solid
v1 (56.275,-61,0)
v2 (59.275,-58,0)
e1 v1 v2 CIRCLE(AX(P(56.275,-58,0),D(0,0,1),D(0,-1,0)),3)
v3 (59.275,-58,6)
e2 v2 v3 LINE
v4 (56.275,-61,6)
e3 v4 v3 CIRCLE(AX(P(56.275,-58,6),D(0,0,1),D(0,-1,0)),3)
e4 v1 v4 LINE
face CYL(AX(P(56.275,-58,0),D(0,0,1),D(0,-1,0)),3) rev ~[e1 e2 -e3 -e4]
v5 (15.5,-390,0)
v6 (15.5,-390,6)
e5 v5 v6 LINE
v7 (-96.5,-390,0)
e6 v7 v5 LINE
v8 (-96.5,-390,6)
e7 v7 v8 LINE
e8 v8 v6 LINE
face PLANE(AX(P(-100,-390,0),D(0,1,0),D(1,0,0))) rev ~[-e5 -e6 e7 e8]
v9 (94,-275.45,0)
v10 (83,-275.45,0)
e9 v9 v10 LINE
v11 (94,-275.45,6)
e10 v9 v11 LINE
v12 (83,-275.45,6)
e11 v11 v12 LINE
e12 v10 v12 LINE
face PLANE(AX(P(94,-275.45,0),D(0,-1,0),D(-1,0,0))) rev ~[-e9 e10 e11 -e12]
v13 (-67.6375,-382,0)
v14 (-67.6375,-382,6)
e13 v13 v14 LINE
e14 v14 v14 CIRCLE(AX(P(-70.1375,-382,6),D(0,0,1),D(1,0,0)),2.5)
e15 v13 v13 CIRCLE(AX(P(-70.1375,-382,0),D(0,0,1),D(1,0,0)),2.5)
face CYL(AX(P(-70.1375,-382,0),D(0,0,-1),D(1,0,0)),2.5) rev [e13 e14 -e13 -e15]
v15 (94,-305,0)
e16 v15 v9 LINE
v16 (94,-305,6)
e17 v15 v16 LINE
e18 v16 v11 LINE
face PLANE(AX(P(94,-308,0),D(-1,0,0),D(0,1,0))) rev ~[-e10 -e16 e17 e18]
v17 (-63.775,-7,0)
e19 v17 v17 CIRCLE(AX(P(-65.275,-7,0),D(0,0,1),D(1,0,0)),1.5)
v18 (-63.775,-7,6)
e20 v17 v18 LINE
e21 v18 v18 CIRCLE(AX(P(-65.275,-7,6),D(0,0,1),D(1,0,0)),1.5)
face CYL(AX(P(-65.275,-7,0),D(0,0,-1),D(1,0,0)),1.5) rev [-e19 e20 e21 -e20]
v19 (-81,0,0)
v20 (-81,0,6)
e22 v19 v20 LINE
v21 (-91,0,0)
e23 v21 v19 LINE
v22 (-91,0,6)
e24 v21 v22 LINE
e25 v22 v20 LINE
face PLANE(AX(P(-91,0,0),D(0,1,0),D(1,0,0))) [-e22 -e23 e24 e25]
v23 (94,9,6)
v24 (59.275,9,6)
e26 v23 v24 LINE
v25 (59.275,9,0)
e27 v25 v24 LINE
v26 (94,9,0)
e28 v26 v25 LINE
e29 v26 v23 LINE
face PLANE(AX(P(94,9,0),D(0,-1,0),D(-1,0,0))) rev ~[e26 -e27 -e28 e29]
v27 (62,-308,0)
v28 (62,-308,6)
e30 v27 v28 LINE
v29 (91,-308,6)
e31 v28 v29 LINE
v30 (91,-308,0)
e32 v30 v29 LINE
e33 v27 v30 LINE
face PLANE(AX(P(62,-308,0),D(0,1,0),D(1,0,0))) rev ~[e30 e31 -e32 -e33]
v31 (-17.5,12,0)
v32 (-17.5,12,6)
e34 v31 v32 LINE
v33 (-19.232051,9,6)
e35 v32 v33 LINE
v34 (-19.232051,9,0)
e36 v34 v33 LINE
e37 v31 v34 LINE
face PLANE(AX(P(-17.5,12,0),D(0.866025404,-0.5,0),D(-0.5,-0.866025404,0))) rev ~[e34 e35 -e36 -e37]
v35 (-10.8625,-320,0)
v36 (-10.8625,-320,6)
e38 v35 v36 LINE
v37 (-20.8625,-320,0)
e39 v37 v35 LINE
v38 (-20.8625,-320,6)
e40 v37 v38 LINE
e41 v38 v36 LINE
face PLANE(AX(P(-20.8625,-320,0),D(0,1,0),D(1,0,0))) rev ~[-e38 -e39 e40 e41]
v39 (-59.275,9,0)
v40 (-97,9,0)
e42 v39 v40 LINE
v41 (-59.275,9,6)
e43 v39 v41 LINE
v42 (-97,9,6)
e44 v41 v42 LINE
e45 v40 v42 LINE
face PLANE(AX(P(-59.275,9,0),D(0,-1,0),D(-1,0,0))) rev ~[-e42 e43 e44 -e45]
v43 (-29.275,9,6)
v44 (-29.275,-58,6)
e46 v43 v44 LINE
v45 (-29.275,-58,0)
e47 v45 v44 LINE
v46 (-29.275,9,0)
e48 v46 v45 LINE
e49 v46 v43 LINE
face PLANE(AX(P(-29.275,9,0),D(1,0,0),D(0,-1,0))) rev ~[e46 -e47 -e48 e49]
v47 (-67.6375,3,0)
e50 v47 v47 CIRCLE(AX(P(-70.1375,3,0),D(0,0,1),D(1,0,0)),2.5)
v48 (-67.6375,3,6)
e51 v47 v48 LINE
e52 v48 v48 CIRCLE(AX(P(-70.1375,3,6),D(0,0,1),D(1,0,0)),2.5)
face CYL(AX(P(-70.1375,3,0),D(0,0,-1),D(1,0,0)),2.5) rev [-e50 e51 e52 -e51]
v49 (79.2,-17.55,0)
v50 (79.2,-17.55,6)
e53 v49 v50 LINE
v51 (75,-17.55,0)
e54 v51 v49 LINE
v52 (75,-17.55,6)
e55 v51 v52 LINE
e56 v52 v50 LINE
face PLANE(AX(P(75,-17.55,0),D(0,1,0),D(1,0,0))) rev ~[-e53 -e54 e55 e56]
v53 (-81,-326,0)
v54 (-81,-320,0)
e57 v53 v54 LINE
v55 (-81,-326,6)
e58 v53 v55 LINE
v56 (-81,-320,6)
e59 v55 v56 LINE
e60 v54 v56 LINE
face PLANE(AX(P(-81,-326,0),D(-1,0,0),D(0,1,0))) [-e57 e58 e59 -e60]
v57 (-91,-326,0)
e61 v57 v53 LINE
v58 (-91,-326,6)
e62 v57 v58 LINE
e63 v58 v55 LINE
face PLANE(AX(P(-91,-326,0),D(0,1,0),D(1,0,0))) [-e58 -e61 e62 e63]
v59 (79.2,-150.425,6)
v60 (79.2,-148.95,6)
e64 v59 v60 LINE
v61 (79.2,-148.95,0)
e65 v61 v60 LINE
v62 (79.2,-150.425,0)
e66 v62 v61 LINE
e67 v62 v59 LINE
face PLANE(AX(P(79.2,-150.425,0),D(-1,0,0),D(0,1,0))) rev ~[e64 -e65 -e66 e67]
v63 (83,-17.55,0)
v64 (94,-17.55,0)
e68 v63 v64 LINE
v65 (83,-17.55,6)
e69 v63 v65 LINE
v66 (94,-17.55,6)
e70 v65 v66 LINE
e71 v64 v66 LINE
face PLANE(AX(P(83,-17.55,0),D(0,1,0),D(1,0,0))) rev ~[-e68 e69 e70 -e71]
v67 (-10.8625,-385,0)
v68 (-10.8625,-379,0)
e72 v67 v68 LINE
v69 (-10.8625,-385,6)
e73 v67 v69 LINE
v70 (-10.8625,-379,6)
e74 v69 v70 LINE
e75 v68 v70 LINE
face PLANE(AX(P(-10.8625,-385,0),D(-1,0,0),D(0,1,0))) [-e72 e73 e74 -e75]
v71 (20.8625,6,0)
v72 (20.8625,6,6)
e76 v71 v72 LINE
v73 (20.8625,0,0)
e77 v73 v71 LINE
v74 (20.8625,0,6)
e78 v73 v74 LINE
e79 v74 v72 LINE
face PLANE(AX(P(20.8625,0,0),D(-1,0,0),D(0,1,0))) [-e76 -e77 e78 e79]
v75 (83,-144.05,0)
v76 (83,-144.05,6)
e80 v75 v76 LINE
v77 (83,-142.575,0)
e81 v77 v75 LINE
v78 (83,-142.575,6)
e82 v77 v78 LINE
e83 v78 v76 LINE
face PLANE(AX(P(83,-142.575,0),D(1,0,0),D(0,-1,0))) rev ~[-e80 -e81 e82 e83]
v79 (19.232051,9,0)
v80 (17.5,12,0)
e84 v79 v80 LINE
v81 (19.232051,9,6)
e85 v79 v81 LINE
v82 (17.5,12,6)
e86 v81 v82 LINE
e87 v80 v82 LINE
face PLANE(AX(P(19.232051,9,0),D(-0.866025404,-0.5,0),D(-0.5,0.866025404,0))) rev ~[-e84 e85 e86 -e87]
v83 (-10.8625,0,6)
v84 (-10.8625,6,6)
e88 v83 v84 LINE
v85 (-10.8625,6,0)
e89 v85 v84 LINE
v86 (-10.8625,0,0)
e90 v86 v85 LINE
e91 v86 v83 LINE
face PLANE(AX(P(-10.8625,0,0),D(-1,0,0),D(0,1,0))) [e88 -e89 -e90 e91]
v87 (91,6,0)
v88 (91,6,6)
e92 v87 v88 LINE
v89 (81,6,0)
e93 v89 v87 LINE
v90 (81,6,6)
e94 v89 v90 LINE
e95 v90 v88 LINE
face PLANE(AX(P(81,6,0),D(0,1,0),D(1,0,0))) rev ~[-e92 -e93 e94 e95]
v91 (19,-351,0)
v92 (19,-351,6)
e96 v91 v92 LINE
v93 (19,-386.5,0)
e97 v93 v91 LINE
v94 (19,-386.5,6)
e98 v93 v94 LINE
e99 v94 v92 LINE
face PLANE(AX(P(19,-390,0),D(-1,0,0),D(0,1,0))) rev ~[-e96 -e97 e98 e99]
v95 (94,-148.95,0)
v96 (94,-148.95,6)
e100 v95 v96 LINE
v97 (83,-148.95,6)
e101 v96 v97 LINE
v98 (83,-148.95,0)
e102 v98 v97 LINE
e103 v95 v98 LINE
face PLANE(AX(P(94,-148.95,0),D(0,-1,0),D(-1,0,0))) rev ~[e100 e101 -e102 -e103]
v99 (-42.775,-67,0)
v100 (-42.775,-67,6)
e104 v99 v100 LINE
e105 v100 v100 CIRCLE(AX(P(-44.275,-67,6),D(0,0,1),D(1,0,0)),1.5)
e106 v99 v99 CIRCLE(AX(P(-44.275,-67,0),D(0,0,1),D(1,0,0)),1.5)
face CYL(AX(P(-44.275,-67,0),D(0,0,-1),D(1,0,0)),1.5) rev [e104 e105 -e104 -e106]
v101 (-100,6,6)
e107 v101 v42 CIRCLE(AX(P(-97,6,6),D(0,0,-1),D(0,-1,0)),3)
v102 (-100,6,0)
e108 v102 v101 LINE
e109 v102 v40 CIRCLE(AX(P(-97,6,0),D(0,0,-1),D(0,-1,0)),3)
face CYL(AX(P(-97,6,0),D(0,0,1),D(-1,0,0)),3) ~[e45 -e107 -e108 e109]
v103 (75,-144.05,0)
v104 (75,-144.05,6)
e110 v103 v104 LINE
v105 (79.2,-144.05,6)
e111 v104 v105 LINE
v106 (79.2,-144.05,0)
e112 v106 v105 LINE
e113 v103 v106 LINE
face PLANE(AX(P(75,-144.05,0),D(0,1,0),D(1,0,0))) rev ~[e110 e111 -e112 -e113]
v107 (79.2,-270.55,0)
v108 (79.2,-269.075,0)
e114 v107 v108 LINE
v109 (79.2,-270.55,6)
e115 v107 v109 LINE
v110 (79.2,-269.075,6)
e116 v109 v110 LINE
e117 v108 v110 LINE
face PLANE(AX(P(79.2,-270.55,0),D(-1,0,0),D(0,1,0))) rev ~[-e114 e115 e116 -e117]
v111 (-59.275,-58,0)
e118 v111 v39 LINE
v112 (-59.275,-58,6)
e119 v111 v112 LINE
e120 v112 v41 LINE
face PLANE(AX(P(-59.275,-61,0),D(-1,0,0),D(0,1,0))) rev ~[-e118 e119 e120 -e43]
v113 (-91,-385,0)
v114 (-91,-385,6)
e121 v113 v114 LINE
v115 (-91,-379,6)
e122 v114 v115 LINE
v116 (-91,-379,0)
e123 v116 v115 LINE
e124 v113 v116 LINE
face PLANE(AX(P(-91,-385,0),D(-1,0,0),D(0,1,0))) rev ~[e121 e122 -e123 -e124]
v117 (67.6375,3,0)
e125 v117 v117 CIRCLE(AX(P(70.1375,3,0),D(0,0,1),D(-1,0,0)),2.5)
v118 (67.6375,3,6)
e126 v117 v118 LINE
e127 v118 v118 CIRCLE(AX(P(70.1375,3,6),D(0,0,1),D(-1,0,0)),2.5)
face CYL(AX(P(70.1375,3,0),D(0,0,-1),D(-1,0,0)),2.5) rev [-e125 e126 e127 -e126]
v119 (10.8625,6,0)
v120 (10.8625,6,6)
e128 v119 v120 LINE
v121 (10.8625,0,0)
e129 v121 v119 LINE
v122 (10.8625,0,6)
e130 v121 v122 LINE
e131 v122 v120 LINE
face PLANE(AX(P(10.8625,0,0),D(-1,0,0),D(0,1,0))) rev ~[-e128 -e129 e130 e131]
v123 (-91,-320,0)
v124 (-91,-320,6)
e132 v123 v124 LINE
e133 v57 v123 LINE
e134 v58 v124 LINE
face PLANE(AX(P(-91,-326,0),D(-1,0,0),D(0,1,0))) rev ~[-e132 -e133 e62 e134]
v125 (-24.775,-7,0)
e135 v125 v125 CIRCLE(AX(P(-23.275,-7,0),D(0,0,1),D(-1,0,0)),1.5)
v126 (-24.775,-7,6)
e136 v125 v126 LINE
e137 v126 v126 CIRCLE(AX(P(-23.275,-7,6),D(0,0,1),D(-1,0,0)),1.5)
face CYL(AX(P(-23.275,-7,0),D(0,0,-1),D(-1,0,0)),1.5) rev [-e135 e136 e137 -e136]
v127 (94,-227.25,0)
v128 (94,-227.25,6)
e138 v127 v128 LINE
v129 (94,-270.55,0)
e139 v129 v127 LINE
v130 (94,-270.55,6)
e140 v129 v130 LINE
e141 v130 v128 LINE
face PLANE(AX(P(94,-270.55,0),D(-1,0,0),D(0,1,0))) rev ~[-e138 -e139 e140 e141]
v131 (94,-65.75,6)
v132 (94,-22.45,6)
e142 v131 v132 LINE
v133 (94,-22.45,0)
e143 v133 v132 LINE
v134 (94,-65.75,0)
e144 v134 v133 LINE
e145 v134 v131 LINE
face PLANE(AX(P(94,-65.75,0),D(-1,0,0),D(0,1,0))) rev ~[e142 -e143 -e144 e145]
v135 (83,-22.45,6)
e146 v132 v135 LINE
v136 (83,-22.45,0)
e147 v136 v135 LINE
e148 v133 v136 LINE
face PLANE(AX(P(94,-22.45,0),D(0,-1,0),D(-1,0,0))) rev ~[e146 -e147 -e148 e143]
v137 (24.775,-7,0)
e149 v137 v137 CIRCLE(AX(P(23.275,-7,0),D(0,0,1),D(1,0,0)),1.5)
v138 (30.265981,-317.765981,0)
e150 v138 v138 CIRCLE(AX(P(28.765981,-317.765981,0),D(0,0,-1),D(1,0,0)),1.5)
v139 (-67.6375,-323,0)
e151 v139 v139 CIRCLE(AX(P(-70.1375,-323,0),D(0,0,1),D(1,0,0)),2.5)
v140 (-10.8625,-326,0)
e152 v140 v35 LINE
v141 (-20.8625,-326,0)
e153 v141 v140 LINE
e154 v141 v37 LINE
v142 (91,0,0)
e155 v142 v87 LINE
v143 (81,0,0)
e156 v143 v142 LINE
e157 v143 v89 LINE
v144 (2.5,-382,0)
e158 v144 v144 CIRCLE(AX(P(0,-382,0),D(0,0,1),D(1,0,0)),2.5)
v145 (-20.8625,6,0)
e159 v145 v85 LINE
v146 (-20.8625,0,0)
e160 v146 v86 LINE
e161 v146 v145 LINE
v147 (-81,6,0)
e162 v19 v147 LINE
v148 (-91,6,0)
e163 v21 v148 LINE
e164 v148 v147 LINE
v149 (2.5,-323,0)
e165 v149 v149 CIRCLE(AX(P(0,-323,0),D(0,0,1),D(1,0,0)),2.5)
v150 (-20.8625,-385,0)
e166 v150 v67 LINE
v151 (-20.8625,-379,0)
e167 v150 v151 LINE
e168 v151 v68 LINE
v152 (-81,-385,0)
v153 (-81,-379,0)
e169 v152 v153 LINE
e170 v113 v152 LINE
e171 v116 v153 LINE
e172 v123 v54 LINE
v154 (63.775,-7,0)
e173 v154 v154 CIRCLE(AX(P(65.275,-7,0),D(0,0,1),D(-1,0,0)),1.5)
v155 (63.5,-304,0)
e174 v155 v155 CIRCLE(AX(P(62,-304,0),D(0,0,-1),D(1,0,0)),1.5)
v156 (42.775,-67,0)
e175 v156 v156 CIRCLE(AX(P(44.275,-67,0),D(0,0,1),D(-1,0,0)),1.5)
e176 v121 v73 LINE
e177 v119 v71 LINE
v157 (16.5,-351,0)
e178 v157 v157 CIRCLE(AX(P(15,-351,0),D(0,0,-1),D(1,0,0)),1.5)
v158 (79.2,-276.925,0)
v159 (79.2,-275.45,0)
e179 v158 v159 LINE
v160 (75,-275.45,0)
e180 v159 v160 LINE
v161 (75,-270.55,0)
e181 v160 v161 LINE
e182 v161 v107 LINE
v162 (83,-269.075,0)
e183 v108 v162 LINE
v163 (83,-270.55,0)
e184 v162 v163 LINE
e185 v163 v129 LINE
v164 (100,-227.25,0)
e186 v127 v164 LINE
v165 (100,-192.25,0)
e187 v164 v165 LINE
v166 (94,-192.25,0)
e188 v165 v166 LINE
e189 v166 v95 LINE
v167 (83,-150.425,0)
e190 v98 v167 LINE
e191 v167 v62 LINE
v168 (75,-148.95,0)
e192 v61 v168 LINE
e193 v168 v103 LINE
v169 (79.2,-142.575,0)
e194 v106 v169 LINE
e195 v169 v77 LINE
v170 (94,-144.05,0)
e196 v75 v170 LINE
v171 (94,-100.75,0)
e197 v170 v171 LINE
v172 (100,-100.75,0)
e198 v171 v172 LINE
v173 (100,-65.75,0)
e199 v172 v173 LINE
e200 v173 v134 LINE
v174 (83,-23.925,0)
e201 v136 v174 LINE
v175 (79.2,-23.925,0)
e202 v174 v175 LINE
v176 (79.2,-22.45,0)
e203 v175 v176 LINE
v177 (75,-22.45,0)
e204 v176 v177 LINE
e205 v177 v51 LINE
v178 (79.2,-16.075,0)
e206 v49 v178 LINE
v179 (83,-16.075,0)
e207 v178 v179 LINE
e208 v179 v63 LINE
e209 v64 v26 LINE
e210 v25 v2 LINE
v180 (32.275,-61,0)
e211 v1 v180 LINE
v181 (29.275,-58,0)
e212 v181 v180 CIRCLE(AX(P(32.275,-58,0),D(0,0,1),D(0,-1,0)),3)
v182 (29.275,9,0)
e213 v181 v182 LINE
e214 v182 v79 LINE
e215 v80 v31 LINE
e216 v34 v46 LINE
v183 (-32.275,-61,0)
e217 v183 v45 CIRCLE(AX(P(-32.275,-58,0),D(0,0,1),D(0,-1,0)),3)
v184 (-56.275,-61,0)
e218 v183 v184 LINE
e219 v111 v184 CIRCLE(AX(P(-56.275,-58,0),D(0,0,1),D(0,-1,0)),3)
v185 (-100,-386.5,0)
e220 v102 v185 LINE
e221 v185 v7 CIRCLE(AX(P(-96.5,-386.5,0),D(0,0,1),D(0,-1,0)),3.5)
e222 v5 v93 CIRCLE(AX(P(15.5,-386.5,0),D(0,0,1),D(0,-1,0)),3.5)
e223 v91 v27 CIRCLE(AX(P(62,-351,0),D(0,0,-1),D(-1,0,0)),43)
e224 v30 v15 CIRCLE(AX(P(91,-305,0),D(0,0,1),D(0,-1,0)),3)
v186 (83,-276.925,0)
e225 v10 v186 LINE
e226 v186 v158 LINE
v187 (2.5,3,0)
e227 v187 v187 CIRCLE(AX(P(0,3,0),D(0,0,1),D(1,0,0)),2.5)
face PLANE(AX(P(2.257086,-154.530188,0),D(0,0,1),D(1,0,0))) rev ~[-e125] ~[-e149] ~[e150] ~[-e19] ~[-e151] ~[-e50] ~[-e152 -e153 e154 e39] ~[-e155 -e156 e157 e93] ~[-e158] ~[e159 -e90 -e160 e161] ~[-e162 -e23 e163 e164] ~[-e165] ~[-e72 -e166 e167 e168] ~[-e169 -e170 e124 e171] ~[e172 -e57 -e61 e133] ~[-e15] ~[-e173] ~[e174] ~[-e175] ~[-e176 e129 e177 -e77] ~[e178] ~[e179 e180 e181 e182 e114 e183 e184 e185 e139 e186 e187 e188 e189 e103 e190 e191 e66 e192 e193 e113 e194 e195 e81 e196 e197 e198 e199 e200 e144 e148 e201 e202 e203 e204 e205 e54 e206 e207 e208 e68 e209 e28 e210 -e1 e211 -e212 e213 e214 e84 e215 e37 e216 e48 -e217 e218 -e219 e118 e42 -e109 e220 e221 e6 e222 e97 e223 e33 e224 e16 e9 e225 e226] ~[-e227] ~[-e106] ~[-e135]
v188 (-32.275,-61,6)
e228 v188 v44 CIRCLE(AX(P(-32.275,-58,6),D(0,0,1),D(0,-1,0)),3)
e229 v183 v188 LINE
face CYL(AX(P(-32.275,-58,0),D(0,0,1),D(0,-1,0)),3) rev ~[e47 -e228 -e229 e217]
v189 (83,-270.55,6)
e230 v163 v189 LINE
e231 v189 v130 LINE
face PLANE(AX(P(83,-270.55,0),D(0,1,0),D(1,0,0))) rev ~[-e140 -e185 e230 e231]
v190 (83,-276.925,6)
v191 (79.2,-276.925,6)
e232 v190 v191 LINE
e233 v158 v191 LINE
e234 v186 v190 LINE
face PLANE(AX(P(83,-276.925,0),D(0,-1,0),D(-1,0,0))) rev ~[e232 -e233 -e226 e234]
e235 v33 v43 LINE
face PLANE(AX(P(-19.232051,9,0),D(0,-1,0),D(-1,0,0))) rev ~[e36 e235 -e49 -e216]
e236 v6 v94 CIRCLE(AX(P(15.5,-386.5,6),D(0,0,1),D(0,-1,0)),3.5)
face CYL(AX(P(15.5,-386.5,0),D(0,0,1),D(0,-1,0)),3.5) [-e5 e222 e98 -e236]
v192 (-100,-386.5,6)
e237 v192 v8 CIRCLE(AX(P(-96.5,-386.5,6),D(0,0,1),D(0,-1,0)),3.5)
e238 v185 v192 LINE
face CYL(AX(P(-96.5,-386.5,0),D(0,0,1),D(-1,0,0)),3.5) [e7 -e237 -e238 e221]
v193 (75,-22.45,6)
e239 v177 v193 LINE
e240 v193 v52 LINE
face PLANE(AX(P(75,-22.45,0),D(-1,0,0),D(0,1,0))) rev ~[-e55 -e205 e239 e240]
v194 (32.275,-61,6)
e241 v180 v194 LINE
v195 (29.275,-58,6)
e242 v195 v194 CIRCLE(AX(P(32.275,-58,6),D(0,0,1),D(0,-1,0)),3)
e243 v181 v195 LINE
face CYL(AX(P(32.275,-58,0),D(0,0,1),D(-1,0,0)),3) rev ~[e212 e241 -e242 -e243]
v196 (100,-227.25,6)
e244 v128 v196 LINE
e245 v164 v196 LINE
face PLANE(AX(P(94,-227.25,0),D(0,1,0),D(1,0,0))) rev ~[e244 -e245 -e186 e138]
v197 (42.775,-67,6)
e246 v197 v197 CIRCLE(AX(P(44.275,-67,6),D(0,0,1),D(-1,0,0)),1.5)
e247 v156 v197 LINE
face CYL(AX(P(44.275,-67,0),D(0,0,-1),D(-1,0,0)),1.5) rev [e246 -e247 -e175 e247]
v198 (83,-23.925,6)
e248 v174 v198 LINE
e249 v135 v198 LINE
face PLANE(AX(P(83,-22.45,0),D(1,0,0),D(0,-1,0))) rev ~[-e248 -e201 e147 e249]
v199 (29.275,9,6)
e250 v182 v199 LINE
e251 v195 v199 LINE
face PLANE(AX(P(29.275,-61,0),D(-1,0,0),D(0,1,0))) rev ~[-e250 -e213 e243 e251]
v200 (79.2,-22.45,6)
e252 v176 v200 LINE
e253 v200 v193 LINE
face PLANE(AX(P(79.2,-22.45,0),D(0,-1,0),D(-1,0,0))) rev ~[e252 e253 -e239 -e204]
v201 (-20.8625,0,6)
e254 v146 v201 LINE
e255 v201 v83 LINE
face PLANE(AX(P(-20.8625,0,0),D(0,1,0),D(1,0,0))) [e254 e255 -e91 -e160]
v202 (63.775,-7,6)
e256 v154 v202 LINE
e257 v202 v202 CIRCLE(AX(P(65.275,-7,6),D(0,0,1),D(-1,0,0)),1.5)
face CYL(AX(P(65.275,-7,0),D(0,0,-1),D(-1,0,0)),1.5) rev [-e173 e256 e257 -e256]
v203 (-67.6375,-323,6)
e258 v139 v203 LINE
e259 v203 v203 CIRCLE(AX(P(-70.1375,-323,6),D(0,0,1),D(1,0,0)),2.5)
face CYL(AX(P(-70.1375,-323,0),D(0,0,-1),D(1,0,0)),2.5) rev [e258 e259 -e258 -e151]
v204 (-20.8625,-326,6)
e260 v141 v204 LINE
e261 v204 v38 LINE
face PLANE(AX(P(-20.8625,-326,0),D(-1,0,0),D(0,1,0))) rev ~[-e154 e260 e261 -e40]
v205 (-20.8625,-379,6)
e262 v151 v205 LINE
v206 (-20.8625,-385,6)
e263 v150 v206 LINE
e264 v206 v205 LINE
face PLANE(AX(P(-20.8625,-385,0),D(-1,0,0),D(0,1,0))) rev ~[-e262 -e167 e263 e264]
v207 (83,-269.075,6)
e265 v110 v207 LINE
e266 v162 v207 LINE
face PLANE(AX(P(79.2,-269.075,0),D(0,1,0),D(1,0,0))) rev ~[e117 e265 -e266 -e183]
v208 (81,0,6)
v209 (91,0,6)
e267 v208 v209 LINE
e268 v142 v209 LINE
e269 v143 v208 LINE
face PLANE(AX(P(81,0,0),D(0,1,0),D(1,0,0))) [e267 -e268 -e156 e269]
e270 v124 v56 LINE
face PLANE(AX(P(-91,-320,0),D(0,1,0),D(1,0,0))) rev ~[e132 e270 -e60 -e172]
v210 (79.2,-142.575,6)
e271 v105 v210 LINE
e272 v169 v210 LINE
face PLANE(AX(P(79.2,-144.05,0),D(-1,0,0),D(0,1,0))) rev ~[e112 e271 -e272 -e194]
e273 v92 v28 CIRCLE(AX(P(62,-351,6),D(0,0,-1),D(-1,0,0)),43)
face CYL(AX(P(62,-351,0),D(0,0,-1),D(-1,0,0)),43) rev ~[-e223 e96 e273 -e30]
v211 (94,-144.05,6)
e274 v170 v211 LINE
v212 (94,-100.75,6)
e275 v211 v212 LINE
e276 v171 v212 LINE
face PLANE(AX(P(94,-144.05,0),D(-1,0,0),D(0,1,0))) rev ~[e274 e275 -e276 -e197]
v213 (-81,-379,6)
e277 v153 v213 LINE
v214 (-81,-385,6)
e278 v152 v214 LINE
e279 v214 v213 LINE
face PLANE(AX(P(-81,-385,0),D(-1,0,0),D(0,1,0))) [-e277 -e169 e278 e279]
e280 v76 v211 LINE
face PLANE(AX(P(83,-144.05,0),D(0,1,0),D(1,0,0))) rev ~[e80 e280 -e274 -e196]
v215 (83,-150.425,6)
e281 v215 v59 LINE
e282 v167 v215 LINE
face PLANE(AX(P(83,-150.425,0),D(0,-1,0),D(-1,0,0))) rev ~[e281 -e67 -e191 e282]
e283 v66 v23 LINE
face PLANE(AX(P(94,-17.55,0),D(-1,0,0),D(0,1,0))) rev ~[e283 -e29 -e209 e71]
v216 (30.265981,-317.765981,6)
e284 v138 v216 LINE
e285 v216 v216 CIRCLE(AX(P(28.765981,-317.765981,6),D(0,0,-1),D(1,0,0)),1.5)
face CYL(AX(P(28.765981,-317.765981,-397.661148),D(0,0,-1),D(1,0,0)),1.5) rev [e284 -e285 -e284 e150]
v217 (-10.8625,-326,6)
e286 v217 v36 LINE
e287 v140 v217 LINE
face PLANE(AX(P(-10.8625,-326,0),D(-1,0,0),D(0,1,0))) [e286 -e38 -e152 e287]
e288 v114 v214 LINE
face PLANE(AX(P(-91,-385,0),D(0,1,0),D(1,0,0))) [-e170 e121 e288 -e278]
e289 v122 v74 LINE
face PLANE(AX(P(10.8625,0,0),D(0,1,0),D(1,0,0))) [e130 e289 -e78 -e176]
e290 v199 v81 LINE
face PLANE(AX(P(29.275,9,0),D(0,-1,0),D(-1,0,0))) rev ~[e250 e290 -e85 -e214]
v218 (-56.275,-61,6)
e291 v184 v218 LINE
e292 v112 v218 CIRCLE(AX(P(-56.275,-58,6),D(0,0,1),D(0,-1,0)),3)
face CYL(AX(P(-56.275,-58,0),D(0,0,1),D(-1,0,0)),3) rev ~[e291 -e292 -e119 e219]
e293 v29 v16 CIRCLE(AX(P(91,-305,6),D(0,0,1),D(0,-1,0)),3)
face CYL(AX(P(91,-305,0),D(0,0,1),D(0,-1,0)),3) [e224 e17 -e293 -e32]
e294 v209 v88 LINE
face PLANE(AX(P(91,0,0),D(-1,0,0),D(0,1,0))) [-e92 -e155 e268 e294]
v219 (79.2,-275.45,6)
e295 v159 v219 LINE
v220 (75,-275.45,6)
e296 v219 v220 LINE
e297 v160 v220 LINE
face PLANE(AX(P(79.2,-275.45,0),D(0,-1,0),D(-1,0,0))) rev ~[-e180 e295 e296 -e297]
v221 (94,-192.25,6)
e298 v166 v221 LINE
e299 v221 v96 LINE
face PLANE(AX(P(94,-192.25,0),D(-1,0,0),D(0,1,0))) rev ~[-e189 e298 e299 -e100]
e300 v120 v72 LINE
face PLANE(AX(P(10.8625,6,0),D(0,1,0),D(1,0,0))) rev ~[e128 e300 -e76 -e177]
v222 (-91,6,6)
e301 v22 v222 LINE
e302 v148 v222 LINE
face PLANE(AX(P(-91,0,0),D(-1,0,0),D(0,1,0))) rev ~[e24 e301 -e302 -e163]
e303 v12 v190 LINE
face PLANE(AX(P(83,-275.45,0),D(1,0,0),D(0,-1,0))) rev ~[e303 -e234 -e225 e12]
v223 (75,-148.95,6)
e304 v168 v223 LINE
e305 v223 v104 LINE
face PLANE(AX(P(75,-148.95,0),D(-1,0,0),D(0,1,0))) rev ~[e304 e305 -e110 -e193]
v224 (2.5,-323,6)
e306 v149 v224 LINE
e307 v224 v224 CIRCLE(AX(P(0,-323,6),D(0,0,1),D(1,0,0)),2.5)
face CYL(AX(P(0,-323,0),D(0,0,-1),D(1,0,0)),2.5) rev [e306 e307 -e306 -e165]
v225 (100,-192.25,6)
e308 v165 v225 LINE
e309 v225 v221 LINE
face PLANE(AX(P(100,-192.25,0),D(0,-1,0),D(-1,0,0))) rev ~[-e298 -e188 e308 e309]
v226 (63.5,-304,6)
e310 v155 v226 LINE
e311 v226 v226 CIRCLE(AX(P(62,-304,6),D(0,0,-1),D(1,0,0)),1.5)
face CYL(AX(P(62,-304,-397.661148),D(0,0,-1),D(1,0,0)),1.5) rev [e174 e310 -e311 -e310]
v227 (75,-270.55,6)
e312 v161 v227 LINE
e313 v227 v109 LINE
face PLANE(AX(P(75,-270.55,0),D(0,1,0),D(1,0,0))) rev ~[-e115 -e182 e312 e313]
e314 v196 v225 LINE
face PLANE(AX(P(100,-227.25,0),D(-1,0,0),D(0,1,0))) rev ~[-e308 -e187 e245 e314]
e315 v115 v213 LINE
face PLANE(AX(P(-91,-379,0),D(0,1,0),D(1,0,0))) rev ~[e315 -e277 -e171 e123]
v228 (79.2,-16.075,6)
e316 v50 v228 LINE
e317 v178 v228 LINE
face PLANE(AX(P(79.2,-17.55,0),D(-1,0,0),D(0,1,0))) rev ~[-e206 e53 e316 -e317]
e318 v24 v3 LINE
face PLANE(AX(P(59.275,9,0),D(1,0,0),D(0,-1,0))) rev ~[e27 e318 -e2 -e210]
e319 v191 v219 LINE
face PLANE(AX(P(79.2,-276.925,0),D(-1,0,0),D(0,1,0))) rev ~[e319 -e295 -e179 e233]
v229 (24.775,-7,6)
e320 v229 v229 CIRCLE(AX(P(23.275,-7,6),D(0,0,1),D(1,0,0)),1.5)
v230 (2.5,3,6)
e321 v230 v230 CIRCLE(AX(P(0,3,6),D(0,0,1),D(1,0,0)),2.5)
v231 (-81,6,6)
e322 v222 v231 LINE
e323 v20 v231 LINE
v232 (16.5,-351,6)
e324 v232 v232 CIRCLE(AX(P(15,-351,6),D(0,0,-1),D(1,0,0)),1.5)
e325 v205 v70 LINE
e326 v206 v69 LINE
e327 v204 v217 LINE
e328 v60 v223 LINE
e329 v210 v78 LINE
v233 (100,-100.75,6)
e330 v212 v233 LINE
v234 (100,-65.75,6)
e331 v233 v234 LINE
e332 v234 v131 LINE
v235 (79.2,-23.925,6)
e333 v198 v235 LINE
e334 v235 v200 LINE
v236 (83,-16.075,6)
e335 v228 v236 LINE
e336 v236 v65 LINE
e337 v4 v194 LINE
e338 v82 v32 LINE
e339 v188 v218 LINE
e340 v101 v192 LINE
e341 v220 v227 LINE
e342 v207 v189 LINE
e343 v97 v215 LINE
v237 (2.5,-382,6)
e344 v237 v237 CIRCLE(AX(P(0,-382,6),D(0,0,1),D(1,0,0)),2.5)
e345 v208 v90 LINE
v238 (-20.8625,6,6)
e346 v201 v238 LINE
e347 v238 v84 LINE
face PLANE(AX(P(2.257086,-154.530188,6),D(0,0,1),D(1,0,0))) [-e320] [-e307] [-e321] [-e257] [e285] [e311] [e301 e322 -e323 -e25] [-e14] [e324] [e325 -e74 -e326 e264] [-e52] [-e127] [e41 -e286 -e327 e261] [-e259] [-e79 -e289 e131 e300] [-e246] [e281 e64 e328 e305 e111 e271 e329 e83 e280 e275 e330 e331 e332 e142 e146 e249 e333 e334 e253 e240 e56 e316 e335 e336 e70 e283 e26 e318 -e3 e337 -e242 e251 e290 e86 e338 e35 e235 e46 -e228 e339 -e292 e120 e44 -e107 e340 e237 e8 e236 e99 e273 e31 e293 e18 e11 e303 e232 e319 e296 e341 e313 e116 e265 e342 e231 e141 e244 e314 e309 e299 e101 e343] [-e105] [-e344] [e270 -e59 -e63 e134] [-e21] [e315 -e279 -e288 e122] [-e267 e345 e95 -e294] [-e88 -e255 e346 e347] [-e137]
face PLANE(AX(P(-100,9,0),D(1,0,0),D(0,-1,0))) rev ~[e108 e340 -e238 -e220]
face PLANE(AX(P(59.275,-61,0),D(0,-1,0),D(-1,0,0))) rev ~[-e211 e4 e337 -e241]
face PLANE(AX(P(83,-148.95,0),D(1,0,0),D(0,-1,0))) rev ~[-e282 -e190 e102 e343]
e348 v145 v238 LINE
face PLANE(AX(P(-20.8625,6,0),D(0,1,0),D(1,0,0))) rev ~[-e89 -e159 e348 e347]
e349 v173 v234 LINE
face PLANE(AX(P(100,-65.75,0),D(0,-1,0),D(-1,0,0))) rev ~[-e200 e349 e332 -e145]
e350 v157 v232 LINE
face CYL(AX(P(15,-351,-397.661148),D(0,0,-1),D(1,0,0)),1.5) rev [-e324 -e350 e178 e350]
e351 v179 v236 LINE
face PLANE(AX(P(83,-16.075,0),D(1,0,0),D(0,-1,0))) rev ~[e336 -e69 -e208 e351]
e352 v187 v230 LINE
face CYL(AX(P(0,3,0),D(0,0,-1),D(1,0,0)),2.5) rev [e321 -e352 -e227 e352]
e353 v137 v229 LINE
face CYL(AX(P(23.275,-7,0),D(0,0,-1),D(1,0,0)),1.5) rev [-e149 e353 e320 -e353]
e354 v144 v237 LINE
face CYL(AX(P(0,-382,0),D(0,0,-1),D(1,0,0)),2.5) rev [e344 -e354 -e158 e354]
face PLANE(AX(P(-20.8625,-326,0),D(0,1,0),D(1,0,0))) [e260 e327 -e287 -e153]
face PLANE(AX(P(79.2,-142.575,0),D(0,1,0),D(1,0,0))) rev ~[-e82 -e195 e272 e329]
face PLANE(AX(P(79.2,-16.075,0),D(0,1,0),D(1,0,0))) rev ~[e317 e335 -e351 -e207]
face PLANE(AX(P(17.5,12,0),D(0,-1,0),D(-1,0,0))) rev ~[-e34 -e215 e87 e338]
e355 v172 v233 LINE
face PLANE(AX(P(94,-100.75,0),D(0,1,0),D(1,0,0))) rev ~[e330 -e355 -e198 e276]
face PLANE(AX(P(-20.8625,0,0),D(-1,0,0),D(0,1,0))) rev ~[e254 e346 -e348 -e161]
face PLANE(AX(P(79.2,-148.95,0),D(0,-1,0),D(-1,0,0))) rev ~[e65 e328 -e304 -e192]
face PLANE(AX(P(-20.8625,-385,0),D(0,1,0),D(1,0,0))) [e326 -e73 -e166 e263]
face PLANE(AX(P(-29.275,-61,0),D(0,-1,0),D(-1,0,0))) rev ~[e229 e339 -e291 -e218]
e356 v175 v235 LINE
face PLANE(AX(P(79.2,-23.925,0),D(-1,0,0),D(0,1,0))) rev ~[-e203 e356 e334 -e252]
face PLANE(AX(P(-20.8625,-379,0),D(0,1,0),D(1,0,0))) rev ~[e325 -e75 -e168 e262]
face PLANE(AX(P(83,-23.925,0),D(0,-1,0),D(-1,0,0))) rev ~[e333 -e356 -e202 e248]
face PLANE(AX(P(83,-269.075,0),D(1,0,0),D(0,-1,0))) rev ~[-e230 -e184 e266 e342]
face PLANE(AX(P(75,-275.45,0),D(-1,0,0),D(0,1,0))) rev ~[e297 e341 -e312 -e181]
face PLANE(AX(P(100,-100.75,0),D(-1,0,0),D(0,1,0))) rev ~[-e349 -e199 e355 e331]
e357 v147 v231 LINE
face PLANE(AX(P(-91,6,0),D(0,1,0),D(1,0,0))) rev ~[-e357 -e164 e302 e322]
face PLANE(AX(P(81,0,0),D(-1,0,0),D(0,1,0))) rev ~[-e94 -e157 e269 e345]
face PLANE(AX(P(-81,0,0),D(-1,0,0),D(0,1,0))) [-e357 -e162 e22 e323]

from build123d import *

# Parameters (mm, degrees)
SKETCH_1_R               = 2.5
SKETCH_1_R_2             = 1.5
SKETCH_1_W               = 10
SKETCH_1_H               = 6
EXTRUDE_1_DEPTH          = 6
FILLET_1_R               = 3.5
FILLET_2_R               = 3
CUT_EXTRUDE_1_DEPTH      = 403.661147865
CUT_EXTRUDE_1_DEPTH_BACK = 403.661147865
SKETCH_2_R               = 1.5


with BuildPart() as part:
    # Эскиз1 → Бобышка-Вытянуть1 (new body)
    with BuildSketch(Plane.XY):
        with BuildLine():
            Line((94, -65.75), (94, -22.45))
            Line((94, -22.45), (83, -22.45))
            Line((83, -22.45), (83, -23.925))
            Line((83, -23.925), (79.2, -23.925))
            Line((79.2, -23.925), (79.2, -22.45))
            Line((79.2, -22.45), (75, -22.45))
            Line((75, -22.45), (75, -17.55))
            Line((75, -17.55), (79.2, -17.55))
            Line((79.2, -17.55), (79.2, -16.075))
            Line((79.2, -16.075), (83, -16.075))
            Line((83, -16.075), (83, -17.55))
            Line((83, -17.55), (94, -17.55))
            Line((94, -17.55), (94, 9))
            Line((94, 9), (59.275, 9))
            Line((59.275, 9), (59.275, -61))
            Line((59.275, -61), (29.275, -61))
            Line((29.275, -61), (29.275, 9))
            Line((29.275, 9), (19.232050808, 9))
            Line((19.232050808, 9), (17.5, 12))
            Line((17.5, 12), (-17.5, 12))
            Line((-17.5, 12), (-19.232050808, 9))
            Line((-19.232050808, 9), (-29.275, 9))
            Line((-29.275, 9), (-29.275, -61))
            Line((-29.275, -61), (-59.275, -61))
            Line((-59.275, -61), (-59.275, 9))
            Line((-59.275, 9), (-100, 9))
            Line((-100, 9), (-100, -390))
            Line((-100, -390), (19, -390))
            Line((19, -390), (19, -351))
            ThreePointArc((19, -351), (31.594408409, -320.594408409), (62, -308))
            Line((62, -308), (94, -308))
            Line((94, -308), (94, -275.45))
            Line((94, -275.45), (83, -275.45))
            Line((83, -275.45), (83, -276.925))
            Line((83, -276.925), (79.2, -276.925))
            Line((79.2, -276.925), (79.2, -275.45))
            Line((79.2, -275.45), (75, -275.45))
            Line((75, -275.45), (75, -270.55))
            Line((75, -270.55), (79.2, -270.55))
            Line((79.2, -270.55), (79.2, -269.075))
            Line((79.2, -269.075), (83, -269.075))
            Line((83, -269.075), (83, -270.55))
            Line((83, -270.55), (94, -270.55))
            Line((94, -270.55), (94, -227.25))
            Line((94, -227.25), (100, -227.25))
            Line((100, -227.25), (100, -192.25))
            Line((100, -192.25), (94, -192.25))
            Line((94, -192.25), (94, -148.95))
            Line((94, -148.95), (83, -148.95))
            Line((83, -148.95), (83, -150.425))
            Line((83, -150.425), (79.2, -150.425))
            Line((79.2, -150.425), (79.2, -148.95))
            Line((79.2, -148.95), (75, -148.95))
            Line((75, -148.95), (75, -144.05))
            Line((75, -144.05), (79.2, -144.05))
            Line((79.2, -144.05), (79.2, -142.575))
            Line((79.2, -142.575), (83, -142.575))
            Line((83, -142.575), (83, -144.05))
            Line((83, -144.05), (94, -144.05))
            Line((94, -144.05), (94, -100.75))
            Line((94, -100.75), (100, -100.75))
            Line((100, -100.75), (100, -65.75))
            Line((100, -65.75), (94, -65.75))
        make_face()
        with Locations((-70.1375, 3)):
            Circle(SKETCH_1_R, mode=Mode.SUBTRACT)
        with Locations((0, 3)):
            Circle(SKETCH_1_R, mode=Mode.SUBTRACT)
        with Locations(Location((70.1375, 3, 0), (0, 0, 180))):
            Circle(SKETCH_1_R, mode=Mode.SUBTRACT)
        with Locations((-70.1375, -382)):
            Circle(SKETCH_1_R, mode=Mode.SUBTRACT)
        with Locations((0, -382)):
            Circle(SKETCH_1_R, mode=Mode.SUBTRACT)
        with Locations((-70.1375, -323)):
            Circle(SKETCH_1_R, mode=Mode.SUBTRACT)
        with Locations((0, -323)):
            Circle(SKETCH_1_R, mode=Mode.SUBTRACT)
        with Locations((-44.275, -67)):
            Circle(SKETCH_1_R_2, mode=Mode.SUBTRACT)
        with Locations((-65.275, -7)):
            Circle(SKETCH_1_R_2, mode=Mode.SUBTRACT)
        with Locations(Location((-23.275, -7, 0), (0, 0, 180))):
            Circle(SKETCH_1_R_2, mode=Mode.SUBTRACT)
        with Locations(Location((44.275, -67, 0), (0, 0, 180))):
            Circle(SKETCH_1_R_2, mode=Mode.SUBTRACT)
        with Locations((23.275, -7)):
            Circle(SKETCH_1_R_2, mode=Mode.SUBTRACT)
        with Locations(Location((65.275, -7, 0), (0, 0, 180))):
            Circle(SKETCH_1_R_2, mode=Mode.SUBTRACT)
        with Locations((15.8625, 3)):
            Rectangle(SKETCH_1_W, SKETCH_1_H, mode=Mode.SUBTRACT)
        with Locations((-15.8625, 3)):
            Rectangle(SKETCH_1_W, SKETCH_1_H, mode=Mode.SUBTRACT)
        with Locations((-86, 3)):
            Rectangle(SKETCH_1_W, SKETCH_1_H, mode=Mode.SUBTRACT)
        with Locations((86, 3)):
            Rectangle(SKETCH_1_W, SKETCH_1_H, mode=Mode.SUBTRACT)
        with Locations((-86, -382)):
            Rectangle(SKETCH_1_W, SKETCH_1_H, mode=Mode.SUBTRACT)
        with Locations((-15.8625, -382)):
            Rectangle(SKETCH_1_W, SKETCH_1_H, mode=Mode.SUBTRACT)
        with Locations((-86, -323)):
            Rectangle(SKETCH_1_W, SKETCH_1_H, mode=Mode.SUBTRACT)
        with Locations((-15.8625, -323)):
            Rectangle(SKETCH_1_W, SKETCH_1_H, mode=Mode.SUBTRACT)
    extrude(amount=EXTRUDE_1_DEPTH)

    # Скругление1
    fillet_1_edges = [part.edges().sort_by_distance(p)[0] for p in [
        (19, -390, 3),
        (-100, -390, 3),
    ]]
    fillet(fillet_1_edges, radius=FILLET_1_R)

    # Скругление2
    fillet_2_edges = [part.edges().sort_by_distance(p)[0] for p in [
        (94, -308, 3),
        (-100, 9, 3),
        (-59.275, -61, 3),
        (-29.275, -61, 3),
        (29.275, -61, 3),
        (59.275, -61, 3),
    ]]
    fillet(fillet_2_edges, radius=FILLET_2_R)

    # Эскиз2 → Вырез-Вытянуть1 (cut, two sides: drawn at the far end of the back side and taken through both)
    with BuildSketch(Plane.XY.offset(6).offset(-CUT_EXTRUDE_1_DEPTH_BACK)):
        with Locations((15, -351)):
            Circle(SKETCH_2_R)
        with Locations((28.765981284, -317.765981284)):
            Circle(SKETCH_2_R)
        with Locations((62, -304)):
            Circle(SKETCH_2_R)
    extrude(amount=CUT_EXTRUDE_1_DEPTH + CUT_EXTRUDE_1_DEPTH_BACK, mode=Mode.SUBTRACT)


solid = part.part
